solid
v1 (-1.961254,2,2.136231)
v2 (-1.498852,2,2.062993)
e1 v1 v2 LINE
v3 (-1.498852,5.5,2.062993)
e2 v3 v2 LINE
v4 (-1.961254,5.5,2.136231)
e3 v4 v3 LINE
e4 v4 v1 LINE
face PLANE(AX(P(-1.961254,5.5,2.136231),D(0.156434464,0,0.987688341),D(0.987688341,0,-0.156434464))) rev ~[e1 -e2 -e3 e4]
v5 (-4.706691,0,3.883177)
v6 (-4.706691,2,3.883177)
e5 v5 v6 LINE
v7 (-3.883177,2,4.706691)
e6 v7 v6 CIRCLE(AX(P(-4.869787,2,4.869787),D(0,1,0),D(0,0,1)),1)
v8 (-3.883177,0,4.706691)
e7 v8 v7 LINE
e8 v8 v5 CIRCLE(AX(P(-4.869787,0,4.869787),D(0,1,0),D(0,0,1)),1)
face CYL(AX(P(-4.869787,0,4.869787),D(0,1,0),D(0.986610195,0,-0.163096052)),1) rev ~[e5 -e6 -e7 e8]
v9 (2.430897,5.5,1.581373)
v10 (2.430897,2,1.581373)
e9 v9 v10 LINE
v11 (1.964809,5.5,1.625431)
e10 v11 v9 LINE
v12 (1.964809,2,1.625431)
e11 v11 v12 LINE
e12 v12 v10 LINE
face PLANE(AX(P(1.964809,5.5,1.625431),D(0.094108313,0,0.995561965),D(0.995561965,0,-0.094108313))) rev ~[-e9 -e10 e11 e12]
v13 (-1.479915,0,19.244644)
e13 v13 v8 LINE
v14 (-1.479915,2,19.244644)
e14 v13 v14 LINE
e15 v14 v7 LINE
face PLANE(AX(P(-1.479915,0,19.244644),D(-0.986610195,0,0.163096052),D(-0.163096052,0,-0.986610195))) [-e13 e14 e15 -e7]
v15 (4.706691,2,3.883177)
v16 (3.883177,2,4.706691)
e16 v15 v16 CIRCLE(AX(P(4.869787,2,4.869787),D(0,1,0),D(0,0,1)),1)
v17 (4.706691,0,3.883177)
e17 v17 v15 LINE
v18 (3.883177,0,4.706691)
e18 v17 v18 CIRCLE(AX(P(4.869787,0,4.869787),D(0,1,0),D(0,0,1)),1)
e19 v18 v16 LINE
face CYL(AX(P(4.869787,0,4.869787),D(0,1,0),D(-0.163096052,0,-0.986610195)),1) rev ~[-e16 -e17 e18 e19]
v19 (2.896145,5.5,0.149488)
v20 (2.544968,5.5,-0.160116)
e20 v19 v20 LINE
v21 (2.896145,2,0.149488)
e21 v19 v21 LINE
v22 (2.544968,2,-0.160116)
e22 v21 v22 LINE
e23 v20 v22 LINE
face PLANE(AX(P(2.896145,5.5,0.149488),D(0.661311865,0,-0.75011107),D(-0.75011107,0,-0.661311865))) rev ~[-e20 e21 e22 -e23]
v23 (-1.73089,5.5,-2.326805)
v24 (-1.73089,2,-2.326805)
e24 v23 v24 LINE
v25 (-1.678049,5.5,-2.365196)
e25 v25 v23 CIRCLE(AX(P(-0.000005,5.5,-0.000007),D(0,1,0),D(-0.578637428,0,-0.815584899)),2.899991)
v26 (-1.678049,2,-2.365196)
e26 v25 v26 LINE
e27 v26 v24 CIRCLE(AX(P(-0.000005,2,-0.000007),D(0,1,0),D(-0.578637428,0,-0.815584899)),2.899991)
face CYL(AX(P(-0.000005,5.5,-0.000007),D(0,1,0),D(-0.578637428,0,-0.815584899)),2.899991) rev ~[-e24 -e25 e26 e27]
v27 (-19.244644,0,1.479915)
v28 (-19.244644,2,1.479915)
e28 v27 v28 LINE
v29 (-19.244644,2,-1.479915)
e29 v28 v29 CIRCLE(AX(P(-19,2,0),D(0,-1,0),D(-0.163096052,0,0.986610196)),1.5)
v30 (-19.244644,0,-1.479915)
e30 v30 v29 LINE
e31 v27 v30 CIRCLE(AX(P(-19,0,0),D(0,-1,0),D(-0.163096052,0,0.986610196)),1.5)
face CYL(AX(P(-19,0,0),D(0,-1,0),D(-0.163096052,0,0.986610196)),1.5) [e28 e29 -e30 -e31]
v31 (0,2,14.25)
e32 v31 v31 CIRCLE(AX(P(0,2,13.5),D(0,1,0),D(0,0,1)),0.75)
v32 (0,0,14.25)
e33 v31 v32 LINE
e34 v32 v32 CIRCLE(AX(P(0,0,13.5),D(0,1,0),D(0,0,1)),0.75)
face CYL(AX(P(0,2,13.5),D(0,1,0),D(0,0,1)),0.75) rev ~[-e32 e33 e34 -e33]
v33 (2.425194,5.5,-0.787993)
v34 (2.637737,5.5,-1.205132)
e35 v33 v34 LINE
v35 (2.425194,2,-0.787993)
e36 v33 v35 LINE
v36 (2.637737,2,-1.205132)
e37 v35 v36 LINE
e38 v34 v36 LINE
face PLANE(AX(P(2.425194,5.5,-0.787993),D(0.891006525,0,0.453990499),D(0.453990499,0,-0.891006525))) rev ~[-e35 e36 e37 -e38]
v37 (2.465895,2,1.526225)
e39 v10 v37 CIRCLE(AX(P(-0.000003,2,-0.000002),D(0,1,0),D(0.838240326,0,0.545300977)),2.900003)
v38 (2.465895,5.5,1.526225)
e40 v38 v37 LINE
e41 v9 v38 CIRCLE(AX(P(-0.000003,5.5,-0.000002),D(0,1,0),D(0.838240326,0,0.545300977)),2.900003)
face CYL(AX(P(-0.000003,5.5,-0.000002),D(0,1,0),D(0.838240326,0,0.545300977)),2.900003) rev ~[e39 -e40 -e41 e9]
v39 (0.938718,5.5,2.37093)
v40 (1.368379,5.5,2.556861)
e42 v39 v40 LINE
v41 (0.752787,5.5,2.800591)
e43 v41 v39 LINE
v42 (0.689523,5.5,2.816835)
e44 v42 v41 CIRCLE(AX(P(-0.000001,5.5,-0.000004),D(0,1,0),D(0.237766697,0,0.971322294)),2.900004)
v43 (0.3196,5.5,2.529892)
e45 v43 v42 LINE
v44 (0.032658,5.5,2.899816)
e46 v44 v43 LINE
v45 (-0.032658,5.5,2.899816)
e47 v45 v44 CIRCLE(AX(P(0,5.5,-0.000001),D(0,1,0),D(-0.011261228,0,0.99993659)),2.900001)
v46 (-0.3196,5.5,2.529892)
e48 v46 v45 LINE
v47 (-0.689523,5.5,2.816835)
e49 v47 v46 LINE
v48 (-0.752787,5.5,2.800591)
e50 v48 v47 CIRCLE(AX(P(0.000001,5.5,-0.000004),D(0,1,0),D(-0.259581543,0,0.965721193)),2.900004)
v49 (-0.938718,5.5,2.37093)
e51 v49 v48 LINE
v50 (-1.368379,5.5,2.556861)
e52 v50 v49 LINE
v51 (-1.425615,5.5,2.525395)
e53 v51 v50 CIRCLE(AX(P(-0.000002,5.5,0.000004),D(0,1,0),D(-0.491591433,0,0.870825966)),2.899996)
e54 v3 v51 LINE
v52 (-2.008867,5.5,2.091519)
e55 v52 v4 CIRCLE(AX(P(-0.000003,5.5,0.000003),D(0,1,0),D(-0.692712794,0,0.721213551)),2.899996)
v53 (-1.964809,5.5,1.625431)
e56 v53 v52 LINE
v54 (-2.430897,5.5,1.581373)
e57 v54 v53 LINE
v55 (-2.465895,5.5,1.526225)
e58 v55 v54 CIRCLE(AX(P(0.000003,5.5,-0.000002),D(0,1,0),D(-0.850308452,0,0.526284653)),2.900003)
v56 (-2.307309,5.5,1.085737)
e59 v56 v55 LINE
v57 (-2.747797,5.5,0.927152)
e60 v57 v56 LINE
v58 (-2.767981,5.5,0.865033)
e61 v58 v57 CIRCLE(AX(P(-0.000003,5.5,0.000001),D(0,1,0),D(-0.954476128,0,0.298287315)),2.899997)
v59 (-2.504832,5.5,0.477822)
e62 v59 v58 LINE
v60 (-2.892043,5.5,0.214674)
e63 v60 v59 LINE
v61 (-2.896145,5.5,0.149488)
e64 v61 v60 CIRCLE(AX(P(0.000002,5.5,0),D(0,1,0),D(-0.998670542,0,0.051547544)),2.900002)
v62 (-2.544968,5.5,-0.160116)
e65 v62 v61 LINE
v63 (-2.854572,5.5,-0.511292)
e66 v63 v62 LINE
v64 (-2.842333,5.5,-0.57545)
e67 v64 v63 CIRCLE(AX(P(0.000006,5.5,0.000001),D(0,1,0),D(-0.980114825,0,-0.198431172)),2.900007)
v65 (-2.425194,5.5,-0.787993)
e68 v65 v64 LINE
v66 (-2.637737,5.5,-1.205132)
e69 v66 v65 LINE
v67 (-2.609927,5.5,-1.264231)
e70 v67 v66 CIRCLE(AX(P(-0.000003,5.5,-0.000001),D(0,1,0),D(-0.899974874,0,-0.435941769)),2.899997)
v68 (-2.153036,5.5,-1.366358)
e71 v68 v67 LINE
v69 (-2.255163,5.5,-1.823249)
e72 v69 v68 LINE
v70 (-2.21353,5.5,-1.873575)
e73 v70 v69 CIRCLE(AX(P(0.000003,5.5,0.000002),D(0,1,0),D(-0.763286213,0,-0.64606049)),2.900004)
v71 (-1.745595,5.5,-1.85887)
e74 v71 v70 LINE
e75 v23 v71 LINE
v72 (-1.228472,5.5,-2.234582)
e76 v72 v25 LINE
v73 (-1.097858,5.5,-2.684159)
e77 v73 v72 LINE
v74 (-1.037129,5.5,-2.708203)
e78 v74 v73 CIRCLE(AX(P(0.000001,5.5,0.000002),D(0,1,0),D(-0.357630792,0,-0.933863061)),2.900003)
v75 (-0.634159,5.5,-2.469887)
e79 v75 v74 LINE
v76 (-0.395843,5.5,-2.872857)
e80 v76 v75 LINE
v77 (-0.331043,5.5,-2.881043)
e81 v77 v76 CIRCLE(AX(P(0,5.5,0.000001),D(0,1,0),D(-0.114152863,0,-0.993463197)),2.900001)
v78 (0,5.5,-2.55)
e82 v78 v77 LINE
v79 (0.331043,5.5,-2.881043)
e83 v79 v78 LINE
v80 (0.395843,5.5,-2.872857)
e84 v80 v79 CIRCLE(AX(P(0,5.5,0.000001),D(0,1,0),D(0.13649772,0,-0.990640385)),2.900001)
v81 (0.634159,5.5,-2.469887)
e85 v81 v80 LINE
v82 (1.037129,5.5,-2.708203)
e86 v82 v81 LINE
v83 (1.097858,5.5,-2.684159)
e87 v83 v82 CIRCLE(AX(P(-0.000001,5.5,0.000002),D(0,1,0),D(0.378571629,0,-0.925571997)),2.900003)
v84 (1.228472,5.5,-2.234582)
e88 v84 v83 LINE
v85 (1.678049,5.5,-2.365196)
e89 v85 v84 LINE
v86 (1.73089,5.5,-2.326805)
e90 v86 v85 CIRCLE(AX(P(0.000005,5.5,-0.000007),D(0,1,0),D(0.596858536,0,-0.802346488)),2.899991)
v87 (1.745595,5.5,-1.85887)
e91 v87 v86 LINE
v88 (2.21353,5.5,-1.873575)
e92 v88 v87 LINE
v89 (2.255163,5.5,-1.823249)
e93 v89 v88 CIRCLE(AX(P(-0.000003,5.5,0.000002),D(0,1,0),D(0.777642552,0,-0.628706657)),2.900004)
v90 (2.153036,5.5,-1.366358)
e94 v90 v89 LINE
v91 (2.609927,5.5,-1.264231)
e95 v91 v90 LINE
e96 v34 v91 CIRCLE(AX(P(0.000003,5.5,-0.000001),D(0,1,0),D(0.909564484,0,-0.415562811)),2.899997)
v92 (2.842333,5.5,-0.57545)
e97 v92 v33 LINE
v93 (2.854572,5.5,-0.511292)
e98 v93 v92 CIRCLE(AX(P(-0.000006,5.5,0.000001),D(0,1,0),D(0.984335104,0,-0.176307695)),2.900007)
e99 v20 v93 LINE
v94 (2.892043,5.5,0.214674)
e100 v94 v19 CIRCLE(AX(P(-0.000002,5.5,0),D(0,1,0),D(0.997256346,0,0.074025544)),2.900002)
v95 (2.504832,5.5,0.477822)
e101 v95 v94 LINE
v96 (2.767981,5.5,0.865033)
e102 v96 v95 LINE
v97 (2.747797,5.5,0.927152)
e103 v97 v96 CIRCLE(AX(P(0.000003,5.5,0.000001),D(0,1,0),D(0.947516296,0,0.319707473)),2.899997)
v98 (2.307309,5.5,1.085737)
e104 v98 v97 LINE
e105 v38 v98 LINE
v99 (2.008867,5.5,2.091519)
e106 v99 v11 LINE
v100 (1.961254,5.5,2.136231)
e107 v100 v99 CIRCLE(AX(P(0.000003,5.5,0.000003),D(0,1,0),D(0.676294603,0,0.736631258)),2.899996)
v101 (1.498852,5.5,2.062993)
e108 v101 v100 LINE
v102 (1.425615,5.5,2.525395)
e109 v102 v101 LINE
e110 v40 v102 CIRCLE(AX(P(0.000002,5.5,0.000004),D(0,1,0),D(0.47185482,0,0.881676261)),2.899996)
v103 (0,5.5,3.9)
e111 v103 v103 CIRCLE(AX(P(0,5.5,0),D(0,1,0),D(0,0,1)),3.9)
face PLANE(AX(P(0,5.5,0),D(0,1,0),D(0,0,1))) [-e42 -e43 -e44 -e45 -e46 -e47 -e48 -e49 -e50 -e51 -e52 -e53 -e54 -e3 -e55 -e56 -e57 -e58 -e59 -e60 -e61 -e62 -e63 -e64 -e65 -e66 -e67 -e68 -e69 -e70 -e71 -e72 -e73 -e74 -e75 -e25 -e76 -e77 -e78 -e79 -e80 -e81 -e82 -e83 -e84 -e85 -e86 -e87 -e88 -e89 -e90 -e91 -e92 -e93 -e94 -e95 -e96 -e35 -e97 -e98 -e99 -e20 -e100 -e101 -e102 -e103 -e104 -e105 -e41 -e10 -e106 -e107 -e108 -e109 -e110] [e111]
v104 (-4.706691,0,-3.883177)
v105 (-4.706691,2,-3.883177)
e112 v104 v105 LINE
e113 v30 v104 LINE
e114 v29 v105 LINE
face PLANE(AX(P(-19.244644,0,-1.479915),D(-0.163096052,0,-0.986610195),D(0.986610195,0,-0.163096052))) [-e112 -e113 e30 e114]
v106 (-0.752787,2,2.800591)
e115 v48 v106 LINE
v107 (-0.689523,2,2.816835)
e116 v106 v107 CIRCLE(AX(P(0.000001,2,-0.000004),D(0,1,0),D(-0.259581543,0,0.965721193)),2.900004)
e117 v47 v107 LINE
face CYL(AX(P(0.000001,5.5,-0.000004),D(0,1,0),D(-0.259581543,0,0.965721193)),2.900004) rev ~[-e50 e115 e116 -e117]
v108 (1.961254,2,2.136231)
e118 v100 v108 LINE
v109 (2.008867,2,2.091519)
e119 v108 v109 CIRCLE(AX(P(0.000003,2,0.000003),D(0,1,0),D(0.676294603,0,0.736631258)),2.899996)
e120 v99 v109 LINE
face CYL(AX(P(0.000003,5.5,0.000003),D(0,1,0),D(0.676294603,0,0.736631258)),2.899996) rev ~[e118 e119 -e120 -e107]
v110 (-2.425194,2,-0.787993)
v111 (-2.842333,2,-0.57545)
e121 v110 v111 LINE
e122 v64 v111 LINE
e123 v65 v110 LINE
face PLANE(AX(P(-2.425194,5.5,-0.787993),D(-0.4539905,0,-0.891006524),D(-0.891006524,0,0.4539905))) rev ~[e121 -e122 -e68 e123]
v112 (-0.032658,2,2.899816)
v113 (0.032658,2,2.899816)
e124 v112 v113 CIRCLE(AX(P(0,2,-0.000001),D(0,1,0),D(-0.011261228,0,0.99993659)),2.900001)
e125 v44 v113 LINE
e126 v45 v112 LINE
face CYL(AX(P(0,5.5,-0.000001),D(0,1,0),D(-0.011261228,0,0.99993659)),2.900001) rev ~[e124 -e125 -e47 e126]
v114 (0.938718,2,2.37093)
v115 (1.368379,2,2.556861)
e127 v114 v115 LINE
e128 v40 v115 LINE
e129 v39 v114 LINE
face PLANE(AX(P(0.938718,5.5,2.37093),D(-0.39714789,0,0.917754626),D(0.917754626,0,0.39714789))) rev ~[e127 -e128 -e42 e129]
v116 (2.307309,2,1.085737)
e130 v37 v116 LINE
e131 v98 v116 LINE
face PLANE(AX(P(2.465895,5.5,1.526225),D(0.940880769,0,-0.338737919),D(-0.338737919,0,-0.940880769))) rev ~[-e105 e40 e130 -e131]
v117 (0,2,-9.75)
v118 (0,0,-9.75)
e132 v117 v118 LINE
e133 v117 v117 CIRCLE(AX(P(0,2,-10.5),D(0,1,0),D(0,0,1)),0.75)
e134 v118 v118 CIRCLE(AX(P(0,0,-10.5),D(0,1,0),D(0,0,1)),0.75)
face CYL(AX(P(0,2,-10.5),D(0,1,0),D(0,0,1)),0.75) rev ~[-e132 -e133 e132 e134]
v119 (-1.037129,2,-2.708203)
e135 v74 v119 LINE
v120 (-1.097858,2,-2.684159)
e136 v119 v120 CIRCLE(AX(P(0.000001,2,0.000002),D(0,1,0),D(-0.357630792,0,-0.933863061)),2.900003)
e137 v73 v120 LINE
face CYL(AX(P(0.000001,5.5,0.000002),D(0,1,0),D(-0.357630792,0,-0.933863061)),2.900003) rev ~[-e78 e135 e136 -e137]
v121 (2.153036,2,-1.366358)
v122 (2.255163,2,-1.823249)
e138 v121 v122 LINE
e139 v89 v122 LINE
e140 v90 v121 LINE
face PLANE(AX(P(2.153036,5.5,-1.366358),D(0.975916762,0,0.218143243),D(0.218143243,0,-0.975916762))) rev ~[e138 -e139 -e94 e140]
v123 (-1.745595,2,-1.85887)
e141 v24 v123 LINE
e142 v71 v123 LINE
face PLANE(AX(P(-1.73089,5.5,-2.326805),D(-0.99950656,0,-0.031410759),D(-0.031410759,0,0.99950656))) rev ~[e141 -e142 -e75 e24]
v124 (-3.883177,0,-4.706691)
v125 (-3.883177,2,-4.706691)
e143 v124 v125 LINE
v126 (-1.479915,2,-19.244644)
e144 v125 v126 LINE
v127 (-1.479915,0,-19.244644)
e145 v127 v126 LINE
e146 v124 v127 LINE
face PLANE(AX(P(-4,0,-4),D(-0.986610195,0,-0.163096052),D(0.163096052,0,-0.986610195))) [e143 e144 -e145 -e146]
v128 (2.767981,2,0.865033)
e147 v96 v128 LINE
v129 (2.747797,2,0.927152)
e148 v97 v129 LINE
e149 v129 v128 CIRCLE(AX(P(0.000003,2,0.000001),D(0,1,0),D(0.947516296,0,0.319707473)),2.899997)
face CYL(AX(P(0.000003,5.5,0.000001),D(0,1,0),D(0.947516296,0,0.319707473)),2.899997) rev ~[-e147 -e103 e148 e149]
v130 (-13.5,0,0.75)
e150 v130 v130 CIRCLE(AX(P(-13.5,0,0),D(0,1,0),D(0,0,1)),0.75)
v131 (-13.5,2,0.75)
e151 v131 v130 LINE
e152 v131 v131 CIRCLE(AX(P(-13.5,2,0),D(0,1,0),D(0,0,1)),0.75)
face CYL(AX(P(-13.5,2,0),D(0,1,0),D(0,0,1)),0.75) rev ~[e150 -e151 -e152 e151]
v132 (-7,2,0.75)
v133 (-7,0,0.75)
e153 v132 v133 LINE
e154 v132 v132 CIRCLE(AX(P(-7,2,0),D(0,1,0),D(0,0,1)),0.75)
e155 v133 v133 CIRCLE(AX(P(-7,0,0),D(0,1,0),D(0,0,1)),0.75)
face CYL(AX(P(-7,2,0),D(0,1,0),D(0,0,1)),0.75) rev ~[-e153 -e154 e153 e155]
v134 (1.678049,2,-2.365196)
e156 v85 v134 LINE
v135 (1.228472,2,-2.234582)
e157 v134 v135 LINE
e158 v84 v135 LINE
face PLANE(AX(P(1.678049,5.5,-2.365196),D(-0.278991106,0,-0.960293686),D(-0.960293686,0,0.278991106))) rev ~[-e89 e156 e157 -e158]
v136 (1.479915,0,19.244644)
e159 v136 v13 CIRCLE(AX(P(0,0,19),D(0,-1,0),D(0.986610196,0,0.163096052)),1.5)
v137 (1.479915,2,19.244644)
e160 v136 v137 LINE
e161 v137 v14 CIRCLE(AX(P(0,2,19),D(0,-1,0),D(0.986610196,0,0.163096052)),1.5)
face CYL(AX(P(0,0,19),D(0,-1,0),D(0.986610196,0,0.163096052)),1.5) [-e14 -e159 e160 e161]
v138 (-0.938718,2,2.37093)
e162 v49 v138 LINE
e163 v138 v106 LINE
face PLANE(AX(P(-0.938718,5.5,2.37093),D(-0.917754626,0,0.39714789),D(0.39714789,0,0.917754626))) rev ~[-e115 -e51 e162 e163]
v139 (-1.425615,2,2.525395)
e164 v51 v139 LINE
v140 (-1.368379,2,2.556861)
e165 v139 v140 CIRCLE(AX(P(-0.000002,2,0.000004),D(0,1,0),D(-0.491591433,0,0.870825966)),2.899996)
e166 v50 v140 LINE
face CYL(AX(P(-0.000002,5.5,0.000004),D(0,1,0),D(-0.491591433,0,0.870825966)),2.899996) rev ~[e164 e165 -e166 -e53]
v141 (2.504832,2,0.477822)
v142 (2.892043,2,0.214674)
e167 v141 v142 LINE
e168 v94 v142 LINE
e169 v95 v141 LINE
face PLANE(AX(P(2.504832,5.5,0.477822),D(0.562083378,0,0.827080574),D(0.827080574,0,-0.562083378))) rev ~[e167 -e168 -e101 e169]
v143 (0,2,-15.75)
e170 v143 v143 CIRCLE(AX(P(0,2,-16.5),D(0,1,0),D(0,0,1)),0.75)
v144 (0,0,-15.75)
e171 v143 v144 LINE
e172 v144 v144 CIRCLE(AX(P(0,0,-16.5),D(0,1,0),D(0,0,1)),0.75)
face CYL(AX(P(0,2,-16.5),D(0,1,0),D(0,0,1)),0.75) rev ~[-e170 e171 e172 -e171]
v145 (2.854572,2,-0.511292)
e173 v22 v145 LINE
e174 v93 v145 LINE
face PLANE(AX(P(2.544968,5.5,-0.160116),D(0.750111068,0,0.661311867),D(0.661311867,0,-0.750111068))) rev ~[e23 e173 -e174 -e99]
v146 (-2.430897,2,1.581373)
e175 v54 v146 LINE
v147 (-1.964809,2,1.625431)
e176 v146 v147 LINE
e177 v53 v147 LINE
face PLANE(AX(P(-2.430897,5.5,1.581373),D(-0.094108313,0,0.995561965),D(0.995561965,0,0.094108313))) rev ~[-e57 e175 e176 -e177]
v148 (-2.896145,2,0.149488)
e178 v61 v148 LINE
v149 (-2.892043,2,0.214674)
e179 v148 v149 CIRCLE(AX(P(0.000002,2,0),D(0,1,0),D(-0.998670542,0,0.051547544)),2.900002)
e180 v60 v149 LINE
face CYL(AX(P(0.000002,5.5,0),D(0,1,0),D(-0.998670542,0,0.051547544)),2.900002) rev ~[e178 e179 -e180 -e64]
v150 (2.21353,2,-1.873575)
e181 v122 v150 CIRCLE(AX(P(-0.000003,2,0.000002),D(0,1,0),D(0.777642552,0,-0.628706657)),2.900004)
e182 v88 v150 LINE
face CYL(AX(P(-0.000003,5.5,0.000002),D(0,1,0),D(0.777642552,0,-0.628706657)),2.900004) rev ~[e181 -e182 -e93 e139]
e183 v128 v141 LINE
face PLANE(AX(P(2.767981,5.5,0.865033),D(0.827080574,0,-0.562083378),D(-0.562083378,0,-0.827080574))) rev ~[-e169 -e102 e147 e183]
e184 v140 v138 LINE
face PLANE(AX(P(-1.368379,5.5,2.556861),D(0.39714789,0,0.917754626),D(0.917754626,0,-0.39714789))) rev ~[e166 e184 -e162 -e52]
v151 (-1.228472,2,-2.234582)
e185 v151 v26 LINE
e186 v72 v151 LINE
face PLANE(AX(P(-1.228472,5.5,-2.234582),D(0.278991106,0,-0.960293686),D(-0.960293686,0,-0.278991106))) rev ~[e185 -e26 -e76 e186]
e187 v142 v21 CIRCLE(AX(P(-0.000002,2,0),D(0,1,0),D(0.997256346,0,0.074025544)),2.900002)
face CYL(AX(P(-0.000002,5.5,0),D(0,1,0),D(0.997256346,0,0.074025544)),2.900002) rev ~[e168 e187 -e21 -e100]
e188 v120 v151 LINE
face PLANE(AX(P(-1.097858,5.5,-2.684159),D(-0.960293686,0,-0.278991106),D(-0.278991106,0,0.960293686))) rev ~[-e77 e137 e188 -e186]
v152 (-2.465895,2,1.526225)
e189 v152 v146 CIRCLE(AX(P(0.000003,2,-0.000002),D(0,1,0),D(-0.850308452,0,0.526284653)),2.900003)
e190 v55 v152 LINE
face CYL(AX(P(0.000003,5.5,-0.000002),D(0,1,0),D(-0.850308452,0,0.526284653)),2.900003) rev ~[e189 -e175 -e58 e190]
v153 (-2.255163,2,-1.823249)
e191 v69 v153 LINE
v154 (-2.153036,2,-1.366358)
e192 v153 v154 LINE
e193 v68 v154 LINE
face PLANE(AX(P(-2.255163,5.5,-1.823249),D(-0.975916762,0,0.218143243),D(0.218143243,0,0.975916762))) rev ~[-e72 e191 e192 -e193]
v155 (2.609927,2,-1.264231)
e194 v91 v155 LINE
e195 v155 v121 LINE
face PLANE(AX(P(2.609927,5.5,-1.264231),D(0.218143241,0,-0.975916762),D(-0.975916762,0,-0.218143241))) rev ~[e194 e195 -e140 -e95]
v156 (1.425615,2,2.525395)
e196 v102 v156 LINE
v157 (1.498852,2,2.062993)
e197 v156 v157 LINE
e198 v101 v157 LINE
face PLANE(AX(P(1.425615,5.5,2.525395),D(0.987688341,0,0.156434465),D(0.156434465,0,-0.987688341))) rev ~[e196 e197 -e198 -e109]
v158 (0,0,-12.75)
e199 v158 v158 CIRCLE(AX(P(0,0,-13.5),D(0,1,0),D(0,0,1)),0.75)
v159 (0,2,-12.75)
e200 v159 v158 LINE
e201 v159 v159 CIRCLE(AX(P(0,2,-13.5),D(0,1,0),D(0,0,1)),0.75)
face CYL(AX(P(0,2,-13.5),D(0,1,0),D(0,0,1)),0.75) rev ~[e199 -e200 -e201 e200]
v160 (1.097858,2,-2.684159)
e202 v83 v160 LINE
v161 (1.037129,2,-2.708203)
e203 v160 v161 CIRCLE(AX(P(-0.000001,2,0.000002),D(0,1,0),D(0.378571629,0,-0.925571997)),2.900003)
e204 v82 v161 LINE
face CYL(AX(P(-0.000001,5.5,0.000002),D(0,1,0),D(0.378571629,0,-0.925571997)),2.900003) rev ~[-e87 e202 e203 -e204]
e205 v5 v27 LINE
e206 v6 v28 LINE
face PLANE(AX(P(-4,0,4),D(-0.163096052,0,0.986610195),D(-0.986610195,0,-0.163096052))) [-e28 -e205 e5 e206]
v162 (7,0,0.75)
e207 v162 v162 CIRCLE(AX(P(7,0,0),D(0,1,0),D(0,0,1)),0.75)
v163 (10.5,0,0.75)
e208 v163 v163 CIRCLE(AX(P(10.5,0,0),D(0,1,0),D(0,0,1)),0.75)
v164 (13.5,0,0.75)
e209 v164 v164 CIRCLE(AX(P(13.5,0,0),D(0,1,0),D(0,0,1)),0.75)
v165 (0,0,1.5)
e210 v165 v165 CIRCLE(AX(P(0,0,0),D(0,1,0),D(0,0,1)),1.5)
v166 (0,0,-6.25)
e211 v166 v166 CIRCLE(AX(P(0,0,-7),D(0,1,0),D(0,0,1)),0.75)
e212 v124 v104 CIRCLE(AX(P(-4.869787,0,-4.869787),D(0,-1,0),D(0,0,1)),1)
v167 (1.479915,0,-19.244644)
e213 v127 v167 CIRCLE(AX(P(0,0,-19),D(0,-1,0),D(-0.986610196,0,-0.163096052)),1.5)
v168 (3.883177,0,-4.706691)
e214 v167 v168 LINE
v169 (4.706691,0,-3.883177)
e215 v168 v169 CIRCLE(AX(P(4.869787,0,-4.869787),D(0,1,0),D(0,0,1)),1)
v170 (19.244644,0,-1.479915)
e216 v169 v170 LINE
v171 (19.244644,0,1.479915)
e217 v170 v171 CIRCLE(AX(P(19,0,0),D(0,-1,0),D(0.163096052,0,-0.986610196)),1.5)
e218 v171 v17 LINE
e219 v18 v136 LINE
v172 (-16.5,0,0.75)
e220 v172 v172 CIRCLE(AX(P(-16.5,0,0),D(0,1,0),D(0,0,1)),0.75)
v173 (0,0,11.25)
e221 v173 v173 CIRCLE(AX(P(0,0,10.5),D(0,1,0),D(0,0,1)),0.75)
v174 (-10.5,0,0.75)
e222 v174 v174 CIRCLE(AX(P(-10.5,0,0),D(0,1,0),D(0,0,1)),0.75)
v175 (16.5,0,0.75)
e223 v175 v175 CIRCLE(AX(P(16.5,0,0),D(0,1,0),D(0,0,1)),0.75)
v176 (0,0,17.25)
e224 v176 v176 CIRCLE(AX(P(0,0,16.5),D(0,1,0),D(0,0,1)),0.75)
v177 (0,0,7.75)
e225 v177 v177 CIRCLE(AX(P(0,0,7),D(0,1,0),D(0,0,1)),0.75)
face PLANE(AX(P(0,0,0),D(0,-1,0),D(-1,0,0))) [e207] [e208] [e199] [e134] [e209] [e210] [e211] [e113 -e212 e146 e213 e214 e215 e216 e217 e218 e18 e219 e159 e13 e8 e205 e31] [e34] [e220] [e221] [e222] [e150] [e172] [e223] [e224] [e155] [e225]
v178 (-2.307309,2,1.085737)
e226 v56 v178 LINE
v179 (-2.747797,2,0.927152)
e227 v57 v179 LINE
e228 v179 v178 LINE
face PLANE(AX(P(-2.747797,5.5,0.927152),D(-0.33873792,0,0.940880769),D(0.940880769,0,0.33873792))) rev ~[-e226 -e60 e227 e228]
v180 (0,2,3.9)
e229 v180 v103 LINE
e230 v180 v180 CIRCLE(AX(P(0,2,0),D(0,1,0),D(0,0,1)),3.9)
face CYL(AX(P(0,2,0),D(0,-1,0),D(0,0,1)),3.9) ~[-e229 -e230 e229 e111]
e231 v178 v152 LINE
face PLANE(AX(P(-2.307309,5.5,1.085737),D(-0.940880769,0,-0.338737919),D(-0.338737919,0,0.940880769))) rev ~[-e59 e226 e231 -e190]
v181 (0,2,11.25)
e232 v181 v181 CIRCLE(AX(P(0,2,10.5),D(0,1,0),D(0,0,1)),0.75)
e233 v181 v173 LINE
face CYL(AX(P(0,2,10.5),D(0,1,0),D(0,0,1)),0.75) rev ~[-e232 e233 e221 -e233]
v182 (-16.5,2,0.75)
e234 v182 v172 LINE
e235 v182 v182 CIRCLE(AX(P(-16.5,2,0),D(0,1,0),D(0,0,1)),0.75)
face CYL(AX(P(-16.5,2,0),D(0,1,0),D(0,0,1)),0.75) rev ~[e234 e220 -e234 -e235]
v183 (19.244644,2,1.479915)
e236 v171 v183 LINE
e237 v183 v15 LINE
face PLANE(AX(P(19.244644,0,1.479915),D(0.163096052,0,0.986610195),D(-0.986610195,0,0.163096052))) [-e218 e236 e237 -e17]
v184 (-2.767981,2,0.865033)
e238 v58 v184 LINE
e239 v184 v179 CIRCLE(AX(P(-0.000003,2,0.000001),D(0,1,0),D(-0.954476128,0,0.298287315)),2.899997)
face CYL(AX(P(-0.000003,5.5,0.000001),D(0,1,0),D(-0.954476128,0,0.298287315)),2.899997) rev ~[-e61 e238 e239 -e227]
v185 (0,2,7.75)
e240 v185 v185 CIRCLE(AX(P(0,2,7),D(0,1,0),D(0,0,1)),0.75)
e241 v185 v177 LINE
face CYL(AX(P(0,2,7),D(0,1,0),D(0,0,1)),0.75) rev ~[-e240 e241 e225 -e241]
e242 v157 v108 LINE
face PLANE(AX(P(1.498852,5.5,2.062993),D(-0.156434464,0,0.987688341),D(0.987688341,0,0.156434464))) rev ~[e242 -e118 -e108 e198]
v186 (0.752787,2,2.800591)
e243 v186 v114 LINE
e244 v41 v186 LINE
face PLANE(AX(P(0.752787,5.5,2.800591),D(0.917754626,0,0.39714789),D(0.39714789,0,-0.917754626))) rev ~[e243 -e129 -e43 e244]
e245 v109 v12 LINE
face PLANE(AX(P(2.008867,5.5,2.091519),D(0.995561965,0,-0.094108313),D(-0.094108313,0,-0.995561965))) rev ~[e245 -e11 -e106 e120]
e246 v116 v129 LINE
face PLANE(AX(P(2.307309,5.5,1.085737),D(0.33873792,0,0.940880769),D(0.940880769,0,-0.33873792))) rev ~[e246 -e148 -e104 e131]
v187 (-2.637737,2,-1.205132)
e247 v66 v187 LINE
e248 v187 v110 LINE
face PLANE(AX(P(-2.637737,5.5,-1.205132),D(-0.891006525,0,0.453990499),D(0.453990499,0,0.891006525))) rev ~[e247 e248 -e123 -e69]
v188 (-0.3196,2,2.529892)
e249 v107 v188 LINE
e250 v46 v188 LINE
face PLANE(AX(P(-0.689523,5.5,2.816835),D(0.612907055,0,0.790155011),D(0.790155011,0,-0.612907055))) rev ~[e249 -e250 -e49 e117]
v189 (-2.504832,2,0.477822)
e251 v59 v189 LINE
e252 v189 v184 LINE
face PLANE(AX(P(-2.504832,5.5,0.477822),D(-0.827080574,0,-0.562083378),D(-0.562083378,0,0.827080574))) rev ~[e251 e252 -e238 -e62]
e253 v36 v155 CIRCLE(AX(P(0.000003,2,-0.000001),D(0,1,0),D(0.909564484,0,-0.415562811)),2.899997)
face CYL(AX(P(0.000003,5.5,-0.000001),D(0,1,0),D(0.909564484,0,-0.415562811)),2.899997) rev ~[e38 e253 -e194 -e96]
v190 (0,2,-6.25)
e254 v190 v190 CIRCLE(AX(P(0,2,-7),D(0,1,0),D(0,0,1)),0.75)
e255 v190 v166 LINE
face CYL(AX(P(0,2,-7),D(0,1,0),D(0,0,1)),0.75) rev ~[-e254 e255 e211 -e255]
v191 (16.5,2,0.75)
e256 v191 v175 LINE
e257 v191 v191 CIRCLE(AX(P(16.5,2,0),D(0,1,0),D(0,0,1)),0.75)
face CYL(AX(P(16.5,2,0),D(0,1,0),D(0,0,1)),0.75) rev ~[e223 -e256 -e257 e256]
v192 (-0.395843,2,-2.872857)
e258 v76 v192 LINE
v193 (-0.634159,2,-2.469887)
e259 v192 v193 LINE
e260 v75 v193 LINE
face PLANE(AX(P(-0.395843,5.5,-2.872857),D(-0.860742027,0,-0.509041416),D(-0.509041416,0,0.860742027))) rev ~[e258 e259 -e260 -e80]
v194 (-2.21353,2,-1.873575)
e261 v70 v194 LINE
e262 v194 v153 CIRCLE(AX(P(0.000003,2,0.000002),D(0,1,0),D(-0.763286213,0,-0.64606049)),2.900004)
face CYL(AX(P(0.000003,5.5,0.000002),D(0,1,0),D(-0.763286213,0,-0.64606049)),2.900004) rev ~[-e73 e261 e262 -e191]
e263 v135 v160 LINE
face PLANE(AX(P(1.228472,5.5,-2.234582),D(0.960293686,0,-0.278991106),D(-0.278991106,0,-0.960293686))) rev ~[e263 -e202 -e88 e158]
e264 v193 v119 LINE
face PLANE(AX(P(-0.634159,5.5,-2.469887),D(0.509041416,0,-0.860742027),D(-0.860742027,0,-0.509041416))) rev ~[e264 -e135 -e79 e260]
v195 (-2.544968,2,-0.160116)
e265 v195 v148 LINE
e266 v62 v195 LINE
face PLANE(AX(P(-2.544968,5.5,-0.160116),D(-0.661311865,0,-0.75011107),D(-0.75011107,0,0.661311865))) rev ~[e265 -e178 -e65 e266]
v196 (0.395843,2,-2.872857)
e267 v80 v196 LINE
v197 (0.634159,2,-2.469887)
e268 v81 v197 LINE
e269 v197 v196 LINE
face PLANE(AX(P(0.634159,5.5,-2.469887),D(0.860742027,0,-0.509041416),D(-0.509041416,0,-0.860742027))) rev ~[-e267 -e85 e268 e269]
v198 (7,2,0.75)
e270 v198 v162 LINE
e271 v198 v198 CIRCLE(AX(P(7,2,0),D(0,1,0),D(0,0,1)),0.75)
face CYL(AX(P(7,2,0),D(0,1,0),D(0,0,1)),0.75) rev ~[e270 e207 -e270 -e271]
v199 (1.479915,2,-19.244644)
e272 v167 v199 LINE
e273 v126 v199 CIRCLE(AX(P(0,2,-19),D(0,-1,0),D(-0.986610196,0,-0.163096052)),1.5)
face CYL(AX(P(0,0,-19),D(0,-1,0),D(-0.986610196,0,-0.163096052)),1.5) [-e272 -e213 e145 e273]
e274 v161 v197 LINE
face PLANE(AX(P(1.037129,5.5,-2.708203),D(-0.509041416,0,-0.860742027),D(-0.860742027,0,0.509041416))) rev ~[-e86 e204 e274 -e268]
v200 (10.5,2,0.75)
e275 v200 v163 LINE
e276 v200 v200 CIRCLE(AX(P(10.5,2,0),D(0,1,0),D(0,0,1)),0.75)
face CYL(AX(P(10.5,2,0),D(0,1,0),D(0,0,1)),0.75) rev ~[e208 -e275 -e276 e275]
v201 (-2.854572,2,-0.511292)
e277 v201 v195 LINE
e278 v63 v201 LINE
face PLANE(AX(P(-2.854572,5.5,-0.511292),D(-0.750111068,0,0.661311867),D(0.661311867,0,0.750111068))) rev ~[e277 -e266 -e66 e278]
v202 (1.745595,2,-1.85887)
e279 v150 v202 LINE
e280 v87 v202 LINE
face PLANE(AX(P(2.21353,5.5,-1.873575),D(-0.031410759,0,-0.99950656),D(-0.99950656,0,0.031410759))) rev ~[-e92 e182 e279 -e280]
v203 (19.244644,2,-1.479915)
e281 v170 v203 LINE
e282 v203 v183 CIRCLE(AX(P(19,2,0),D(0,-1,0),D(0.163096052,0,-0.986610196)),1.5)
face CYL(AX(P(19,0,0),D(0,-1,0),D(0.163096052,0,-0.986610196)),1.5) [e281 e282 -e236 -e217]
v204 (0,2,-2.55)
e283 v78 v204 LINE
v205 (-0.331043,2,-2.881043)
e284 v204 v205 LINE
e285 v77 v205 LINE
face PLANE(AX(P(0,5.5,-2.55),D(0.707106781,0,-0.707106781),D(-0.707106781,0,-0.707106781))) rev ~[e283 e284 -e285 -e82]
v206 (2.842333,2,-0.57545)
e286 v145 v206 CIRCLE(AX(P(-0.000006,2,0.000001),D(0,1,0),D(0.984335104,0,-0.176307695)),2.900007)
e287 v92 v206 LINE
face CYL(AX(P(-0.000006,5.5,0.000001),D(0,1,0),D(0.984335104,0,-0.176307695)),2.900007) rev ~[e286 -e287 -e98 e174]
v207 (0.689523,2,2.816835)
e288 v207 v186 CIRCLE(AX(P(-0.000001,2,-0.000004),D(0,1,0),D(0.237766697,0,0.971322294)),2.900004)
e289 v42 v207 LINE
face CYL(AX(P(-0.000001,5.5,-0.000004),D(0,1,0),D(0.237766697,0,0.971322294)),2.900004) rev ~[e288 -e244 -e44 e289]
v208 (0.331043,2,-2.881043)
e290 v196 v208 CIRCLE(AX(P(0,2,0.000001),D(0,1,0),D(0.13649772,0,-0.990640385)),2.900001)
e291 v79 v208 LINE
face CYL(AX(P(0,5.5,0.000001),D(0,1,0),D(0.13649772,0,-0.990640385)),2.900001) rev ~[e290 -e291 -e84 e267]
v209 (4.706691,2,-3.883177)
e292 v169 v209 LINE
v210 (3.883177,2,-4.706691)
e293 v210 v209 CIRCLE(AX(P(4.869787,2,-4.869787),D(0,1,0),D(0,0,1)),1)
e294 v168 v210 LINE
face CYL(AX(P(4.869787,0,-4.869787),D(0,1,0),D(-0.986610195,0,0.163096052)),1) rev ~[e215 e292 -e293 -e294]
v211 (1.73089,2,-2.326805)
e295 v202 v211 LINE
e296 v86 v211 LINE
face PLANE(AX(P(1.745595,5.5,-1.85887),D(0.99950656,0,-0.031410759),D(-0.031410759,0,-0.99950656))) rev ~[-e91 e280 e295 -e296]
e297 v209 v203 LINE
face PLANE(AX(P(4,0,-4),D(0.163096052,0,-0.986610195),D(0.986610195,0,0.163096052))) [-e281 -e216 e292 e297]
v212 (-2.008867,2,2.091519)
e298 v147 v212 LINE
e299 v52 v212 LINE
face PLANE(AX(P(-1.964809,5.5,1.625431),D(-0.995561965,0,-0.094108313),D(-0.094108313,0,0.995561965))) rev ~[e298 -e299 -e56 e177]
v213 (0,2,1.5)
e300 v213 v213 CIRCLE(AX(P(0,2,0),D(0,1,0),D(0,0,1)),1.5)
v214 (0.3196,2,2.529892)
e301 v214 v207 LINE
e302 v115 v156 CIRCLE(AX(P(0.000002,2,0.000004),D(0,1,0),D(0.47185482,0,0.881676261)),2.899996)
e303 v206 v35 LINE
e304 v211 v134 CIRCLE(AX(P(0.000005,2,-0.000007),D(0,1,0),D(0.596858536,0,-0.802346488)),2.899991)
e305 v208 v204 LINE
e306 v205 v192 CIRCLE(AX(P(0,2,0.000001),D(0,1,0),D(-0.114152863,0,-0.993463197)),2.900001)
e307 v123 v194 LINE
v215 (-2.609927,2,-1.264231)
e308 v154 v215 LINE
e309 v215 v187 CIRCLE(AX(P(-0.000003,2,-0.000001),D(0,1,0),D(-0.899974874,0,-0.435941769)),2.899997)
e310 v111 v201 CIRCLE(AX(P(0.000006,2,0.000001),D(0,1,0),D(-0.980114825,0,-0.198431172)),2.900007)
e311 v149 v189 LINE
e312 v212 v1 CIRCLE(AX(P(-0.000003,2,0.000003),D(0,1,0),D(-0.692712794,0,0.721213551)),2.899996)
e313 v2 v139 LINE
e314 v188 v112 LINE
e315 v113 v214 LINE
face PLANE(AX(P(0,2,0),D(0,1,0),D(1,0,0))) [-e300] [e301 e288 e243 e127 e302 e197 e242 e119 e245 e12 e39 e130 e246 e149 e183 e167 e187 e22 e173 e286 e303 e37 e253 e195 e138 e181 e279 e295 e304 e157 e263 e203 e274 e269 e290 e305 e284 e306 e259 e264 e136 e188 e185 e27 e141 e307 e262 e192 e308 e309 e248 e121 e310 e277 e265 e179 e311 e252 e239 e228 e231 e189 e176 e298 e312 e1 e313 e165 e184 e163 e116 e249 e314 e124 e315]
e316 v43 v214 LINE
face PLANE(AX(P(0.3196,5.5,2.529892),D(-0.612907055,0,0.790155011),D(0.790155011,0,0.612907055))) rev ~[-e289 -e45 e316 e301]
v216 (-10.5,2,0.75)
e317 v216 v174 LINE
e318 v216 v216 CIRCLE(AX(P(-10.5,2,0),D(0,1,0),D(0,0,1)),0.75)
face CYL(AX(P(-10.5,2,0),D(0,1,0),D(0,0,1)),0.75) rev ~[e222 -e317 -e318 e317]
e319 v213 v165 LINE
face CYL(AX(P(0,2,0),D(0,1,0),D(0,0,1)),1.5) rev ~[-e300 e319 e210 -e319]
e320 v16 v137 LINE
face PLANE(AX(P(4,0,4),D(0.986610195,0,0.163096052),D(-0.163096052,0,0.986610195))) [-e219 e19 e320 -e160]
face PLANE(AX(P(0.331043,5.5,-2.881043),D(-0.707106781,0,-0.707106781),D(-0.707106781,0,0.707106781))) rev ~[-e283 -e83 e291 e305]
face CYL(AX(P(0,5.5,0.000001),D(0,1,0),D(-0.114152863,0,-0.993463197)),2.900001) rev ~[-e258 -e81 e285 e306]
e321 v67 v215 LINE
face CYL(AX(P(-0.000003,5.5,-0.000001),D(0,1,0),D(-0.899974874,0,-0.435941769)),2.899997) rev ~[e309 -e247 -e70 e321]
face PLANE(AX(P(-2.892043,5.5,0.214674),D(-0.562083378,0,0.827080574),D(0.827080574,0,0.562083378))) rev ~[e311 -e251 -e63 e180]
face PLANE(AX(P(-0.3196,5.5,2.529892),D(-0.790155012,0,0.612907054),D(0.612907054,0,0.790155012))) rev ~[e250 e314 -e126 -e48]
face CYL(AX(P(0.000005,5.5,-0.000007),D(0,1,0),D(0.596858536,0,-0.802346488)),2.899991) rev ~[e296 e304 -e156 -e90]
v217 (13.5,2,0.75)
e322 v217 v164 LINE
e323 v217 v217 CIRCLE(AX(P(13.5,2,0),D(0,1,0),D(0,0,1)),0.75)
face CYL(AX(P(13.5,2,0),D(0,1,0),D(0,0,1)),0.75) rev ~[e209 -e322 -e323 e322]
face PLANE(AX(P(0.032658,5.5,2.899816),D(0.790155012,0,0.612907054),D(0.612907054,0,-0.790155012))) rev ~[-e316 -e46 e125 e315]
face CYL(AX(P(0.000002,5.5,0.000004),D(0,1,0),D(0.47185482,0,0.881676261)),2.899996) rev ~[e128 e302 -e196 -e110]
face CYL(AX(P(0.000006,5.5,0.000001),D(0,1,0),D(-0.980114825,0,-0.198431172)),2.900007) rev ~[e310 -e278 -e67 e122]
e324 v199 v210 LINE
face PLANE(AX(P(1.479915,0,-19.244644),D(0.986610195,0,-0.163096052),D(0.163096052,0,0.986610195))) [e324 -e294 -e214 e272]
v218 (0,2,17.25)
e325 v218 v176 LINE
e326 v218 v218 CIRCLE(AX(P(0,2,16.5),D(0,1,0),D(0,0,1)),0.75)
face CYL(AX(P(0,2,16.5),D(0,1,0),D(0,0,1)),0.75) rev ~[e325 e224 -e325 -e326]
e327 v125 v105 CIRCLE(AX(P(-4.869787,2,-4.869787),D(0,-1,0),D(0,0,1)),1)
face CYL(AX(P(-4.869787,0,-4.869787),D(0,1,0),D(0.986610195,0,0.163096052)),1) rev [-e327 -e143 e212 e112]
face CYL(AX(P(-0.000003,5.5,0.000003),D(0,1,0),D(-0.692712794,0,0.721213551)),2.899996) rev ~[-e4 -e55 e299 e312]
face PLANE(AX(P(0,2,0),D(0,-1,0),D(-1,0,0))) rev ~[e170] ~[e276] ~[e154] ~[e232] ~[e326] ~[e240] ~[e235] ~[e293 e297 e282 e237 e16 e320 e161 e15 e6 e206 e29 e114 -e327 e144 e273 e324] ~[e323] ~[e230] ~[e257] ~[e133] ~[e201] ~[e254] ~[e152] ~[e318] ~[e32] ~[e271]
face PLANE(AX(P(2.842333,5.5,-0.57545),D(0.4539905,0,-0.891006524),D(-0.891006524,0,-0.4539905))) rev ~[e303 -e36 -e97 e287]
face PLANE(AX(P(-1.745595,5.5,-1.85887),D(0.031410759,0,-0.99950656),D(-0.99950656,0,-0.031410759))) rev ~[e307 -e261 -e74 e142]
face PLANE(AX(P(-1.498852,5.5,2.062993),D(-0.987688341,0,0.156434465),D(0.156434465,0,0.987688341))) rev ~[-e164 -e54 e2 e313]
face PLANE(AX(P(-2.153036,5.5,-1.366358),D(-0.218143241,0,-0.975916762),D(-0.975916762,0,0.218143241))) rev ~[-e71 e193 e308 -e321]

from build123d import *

# Parameters (mm, degrees)
BOSS_EXTRUDE1_DEPTH = 2
SKETCH6_R           = 3.9
BOSS_EXTRUDE3_DEPTH = 3.5
CUT_EXTRUDE3_DEPTH  = 3.5
FILLET2_R           = 1
SKETCH8_R           = 0.75
CUT_EXTRUDE4_DEPTH  = 30.201883501
SKETCH9_R           = 1.5
CUT_EXTRUDE5_DEPTH  = 30.201883501


with BuildPart() as part:
    # Sketch1 → Boss-Extrude1 (new body)
    with BuildSketch(Plane(origin=(0, 0, 0), x_dir=(1, 0, 0), z_dir=(0, 1, 0))):
        with BuildLine():
            Line((-4, 4), (-1.479915293, 19.244644078))
            ThreePointArc((-1.479915293, 19.244644078), (0, 20.5), (1.479915293, 19.244644078))
            Line((1.479915293, 19.244644078), (4, 4))
            Line((4, 4), (19.244644078, 1.479915293))
            ThreePointArc((19.244644078, 1.479915293), (20.5, 0), (19.244644078, -1.479915293))
            Line((19.244644078, -1.479915293), (4, -4))
            Line((4, -4), (1.479915293, -19.244644078))
            ThreePointArc((1.479915293, -19.244644078), (0, -20.5), (-1.479915293, -19.244644078))
            Line((-1.479915293, -19.244644078), (-4, -4))
            Line((-4, -4), (-19.244644078, -1.479915293))
            ThreePointArc((-19.244644078, -1.479915293), (-20.5, 0), (-19.244644078, 1.479915293))
            Line((-19.244644078, 1.479915293), (-4, 4))
        make_face()
    extrude(amount=BOSS_EXTRUDE1_DEPTH)

    # Sketch6 → Boss-Extrude3 (add)
    with BuildSketch(Plane(origin=(0, 2, 0), x_dir=(1, 0, 0), z_dir=(0, 1, 0))):
        with Locations(Location((0, 0, 0), (0, 0, 270))):
            Circle(SKETCH6_R)
    extrude(amount=BOSS_EXTRUDE3_DEPTH)

    # Sketch7 → Cut-Extrude3 (cut)
    with BuildSketch(Plane(origin=(0, 5.5, 0), x_dir=(1, 0, 0), z_dir=(0, 1, 0))):
        with BuildLine():
            Line((0, 2.55), (-0.331043275, 2.881043275))
            ThreePointArc((-0.331043275, 2.881043275), (-0.363466377, 2.877132634), (-0.395843385, 2.872857117))
            Line((-0.395843385, 2.872857117), (-0.634159212, 2.469887061))
            Line((-0.634159212, 2.469887061), (-1.037129268, 2.708202888))
            ThreePointArc((-1.037129268, 2.708202888), (-1.067561203, 2.696351809), (-1.09785775, 2.684158781))
            Line((-1.09785775, 2.684158781), (-1.228471869, 2.234582034))
            Line((-1.228471869, 2.234582034), (-1.678048616, 2.365196153))
            ThreePointArc((-1.678048616, 2.365196153), (-1.704577232, 2.346149284), (-1.730889674, 2.326804877))
            Line((-1.730889674, 2.326804877), (-1.74559512, 1.85887))
            Line((-1.74559512, 1.85887), (-2.213529997, 1.873575446))
            ThreePointArc((-2.213529997, 1.873575446), (-2.234488404, 1.84852957), (-2.255163435, 1.823249265))
            Line((-2.255163435, 1.823249265), (-2.15303621, 1.366358327))
            Line((-2.15303621, 1.366358327), (-2.609927148, 1.264231103))
            ThreePointArc((-2.609927148, 1.264231103), (-2.623998452, 1.234759946), (-2.637736982, 1.205132197))
            Line((-2.637736982, 1.205132197), (-2.425194117, 0.787993336))
            Line((-2.425194117, 0.787993336), (-2.842332978, 0.57545047))
            ThreePointArc((-2.842332978, 0.57545047), (-2.848633027, 0.543405812), (-2.854571815, 0.51129224))
            Line((-2.854571815, 0.51129224), (-2.544968157, 0.160115825))
            Line((-2.544968157, 0.160115825), (-2.896144573, -0.149487832))
            ThreePointArc((-2.896144573, -0.149487832), (-2.894277512, -0.182092507), (-2.892043401, -0.214674088))
            Line((-2.892043401, -0.214674088), (-2.504832489, -0.477822352))
            Line((-2.504832489, -0.477822352), (-2.767980753, -0.865033264))
            ThreePointArc((-2.767980753, -0.865033264), (-2.758063897, -0.896149284), (-2.747797265, -0.927151654))
            Line((-2.747797265, -0.927151654), (-2.307308984, -1.085737193))
            Line((-2.307308984, -1.085737193), (-2.465894523, -1.526225475))
            ThreePointArc((-2.465894523, -1.526225475), (-2.448550984, -1.553897705), (-2.430896921, -1.581372872))
            Line((-2.430896921, -1.581372872), (-1.964808769, -1.625431174))
            Line((-1.964808769, -1.625431174), (-2.008867071, -2.091519326))
            ThreePointArc((-2.008867071, -2.091519326), (-1.985186607, -2.11400902), (-1.961254383, -2.136230616))
            Line((-1.961254383, -2.136230616), (-1.498852393, -2.062993336))
            Line((-1.498852393, -2.062993336), (-1.425615113, -2.525395325))
            ThreePointArc((-1.425615113, -2.525395325), (-1.397085655, -2.541289372), (-1.368379019, -2.556861134))
            Line((-1.368379019, -2.556861134), (-0.938717609, -2.370930039))
            Line((-0.938717609, -2.370930039), (-0.752786514, -2.800591449))
            ThreePointArc((-0.752786514, -2.800591449), (-0.721200673, -2.808891167), (-0.689523369, -2.816834664))
            Line((-0.689523369, -2.816834664), (-0.319599746, -2.529892488))
            Line((-0.319599746, -2.529892488), (-0.03265757, -2.899816112))
            ThreePointArc((-0.03265757, -2.899816112), (0, -2.9), (0.03265757, -2.899816112))
            Line((0.03265757, -2.899816112), (0.319599746, -2.529892488))
            Line((0.319599746, -2.529892488), (0.689523369, -2.816834664))
            ThreePointArc((0.689523369, -2.816834664), (0.721200673, -2.808891167), (0.752786514, -2.800591449))
            Line((0.752786514, -2.800591449), (0.938717609, -2.370930039))
            Line((0.938717609, -2.370930039), (1.368379019, -2.556861134))
            ThreePointArc((1.368379019, -2.556861134), (1.397085655, -2.541289372), (1.425615113, -2.525395325))
            Line((1.425615113, -2.525395325), (1.498852393, -2.062993336))
            Line((1.498852393, -2.062993336), (1.961254383, -2.136230616))
            ThreePointArc((1.961254383, -2.136230616), (1.985186607, -2.11400902), (2.008867071, -2.091519326))
            Line((2.008867071, -2.091519326), (1.964808769, -1.625431174))
            Line((1.964808769, -1.625431174), (2.430896921, -1.581372872))
            ThreePointArc((2.430896921, -1.581372872), (2.448550984, -1.553897705), (2.465894523, -1.526225475))
            Line((2.465894523, -1.526225475), (2.307308984, -1.085737193))
            Line((2.307308984, -1.085737193), (2.747797265, -0.927151654))
            ThreePointArc((2.747797265, -0.927151654), (2.758063897, -0.896149284), (2.767980753, -0.865033264))
            Line((2.767980753, -0.865033264), (2.504832489, -0.477822352))
            Line((2.504832489, -0.477822352), (2.892043401, -0.214674088))
            ThreePointArc((2.892043401, -0.214674088), (2.894277512, -0.182092507), (2.896144573, -0.149487832))
            Line((2.896144573, -0.149487832), (2.544968157, 0.160115825))
            Line((2.544968157, 0.160115825), (2.854571815, 0.51129224))
            ThreePointArc((2.854571815, 0.51129224), (2.848633027, 0.543405812), (2.842332978, 0.57545047))
            Line((2.842332978, 0.57545047), (2.425194117, 0.787993336))
            Line((2.425194117, 0.787993336), (2.637736982, 1.205132197))
            ThreePointArc((2.637736982, 1.205132197), (2.623998452, 1.234759946), (2.609927148, 1.264231103))
            Line((2.609927148, 1.264231103), (2.15303621, 1.366358327))
            Line((2.15303621, 1.366358327), (2.255163435, 1.823249265))
            ThreePointArc((2.255163435, 1.823249265), (2.234488404, 1.84852957), (2.213529997, 1.873575446))
            Line((2.213529997, 1.873575446), (1.74559512, 1.85887))
            Line((1.74559512, 1.85887), (1.730889674, 2.326804877))
            ThreePointArc((1.730889674, 2.326804877), (1.704577232, 2.346149284), (1.678048616, 2.365196153))
            Line((1.678048616, 2.365196153), (1.228471869, 2.234582034))
            Line((1.228471869, 2.234582034), (1.09785775, 2.684158781))
            ThreePointArc((1.09785775, 2.684158781), (1.067561203, 2.696351809), (1.037129268, 2.708202888))
            Line((1.037129268, 2.708202888), (0.634159212, 2.469887061))
            Line((0.634159212, 2.469887061), (0.395843385, 2.872857117))
            ThreePointArc((0.395843385, 2.872857117), (0.363466377, 2.877132634), (0.331043275, 2.881043275))
            Line((0.331043275, 2.881043275), (0, 2.55))
        make_face()
    extrude(amount=-CUT_EXTRUDE3_DEPTH, mode=Mode.SUBTRACT)

    # Fillet2
    fillet2_edges = [part.edges().sort_by_distance(p)[0] for p in [
        (-4, 1, -4),
        (4, 1, -4),
        (4, 1, 4),
        (-4, 1, 4),
    ]]
    fillet(fillet2_edges, radius=FILLET2_R)

    # Sketch8 → Cut-Extrude4 (cut, through all)
    with BuildSketch(Plane(origin=(0, 2, 0), x_dir=(1, 0, 0), z_dir=(0, 1, 0))):
        with Locations(Location((0, 16.5, 0), (0, 0, 270))):
            Circle(SKETCH8_R)
        with Locations(Location((0, 13.5, 0), (0, 0, 270))):
            Circle(SKETCH8_R)
        with Locations(Location((0, 10.5, 0), (0, 0, 270))):
            Circle(SKETCH8_R)
        with Locations(Location((0, 7, 0), (0, 0, 270))):
            Circle(SKETCH8_R)
        with Locations(Location((16.5, 0, 0), (0, 0, 270))):
            Circle(SKETCH8_R)
        with Locations(Location((13.5, 0, 0), (0, 0, 270))):
            Circle(SKETCH8_R)
        with Locations(Location((10.5, 0, 0), (0, 0, 270))):
            Circle(SKETCH8_R)
        with Locations(Location((7, 0, 0), (0, 0, 270))):
            Circle(SKETCH8_R)
        with Locations(Location((0, -16.5, 0), (0, 0, 270))):
            Circle(SKETCH8_R)
        with Locations(Location((0, -13.5, 0), (0, 0, 270))):
            Circle(SKETCH8_R)
        with Locations(Location((0, -10.5, 0), (0, 0, 270))):
            Circle(SKETCH8_R)
        with Locations(Location((0, -7, 0), (0, 0, 270))):
            Circle(SKETCH8_R)
        with Locations(Location((-16.5, 0, 0), (0, 0, 270))):
            Circle(SKETCH8_R)
        with Locations(Location((-13.5, 0, 0), (0, 0, 270))):
            Circle(SKETCH8_R)
        with Locations(Location((-10.5, 0, 0), (0, 0, 270))):
            Circle(SKETCH8_R)
        with Locations(Location((-7, 0, 0), (0, 0, 270))):
            Circle(SKETCH8_R)
    extrude(amount=-CUT_EXTRUDE4_DEPTH, mode=Mode.SUBTRACT)

    # Sketch9 → Cut-Extrude5 (cut, through all)
    with BuildSketch(Plane(origin=(0, 2, 0), x_dir=(1, 0, 0), z_dir=(0, 1, 0))):
        with Locations(Location((0, 0, 0), (0, 0, 270))):
            Circle(SKETCH9_R)
    extrude(amount=-CUT_EXTRUDE5_DEPTH, mode=Mode.SUBTRACT)


solid = part.part
